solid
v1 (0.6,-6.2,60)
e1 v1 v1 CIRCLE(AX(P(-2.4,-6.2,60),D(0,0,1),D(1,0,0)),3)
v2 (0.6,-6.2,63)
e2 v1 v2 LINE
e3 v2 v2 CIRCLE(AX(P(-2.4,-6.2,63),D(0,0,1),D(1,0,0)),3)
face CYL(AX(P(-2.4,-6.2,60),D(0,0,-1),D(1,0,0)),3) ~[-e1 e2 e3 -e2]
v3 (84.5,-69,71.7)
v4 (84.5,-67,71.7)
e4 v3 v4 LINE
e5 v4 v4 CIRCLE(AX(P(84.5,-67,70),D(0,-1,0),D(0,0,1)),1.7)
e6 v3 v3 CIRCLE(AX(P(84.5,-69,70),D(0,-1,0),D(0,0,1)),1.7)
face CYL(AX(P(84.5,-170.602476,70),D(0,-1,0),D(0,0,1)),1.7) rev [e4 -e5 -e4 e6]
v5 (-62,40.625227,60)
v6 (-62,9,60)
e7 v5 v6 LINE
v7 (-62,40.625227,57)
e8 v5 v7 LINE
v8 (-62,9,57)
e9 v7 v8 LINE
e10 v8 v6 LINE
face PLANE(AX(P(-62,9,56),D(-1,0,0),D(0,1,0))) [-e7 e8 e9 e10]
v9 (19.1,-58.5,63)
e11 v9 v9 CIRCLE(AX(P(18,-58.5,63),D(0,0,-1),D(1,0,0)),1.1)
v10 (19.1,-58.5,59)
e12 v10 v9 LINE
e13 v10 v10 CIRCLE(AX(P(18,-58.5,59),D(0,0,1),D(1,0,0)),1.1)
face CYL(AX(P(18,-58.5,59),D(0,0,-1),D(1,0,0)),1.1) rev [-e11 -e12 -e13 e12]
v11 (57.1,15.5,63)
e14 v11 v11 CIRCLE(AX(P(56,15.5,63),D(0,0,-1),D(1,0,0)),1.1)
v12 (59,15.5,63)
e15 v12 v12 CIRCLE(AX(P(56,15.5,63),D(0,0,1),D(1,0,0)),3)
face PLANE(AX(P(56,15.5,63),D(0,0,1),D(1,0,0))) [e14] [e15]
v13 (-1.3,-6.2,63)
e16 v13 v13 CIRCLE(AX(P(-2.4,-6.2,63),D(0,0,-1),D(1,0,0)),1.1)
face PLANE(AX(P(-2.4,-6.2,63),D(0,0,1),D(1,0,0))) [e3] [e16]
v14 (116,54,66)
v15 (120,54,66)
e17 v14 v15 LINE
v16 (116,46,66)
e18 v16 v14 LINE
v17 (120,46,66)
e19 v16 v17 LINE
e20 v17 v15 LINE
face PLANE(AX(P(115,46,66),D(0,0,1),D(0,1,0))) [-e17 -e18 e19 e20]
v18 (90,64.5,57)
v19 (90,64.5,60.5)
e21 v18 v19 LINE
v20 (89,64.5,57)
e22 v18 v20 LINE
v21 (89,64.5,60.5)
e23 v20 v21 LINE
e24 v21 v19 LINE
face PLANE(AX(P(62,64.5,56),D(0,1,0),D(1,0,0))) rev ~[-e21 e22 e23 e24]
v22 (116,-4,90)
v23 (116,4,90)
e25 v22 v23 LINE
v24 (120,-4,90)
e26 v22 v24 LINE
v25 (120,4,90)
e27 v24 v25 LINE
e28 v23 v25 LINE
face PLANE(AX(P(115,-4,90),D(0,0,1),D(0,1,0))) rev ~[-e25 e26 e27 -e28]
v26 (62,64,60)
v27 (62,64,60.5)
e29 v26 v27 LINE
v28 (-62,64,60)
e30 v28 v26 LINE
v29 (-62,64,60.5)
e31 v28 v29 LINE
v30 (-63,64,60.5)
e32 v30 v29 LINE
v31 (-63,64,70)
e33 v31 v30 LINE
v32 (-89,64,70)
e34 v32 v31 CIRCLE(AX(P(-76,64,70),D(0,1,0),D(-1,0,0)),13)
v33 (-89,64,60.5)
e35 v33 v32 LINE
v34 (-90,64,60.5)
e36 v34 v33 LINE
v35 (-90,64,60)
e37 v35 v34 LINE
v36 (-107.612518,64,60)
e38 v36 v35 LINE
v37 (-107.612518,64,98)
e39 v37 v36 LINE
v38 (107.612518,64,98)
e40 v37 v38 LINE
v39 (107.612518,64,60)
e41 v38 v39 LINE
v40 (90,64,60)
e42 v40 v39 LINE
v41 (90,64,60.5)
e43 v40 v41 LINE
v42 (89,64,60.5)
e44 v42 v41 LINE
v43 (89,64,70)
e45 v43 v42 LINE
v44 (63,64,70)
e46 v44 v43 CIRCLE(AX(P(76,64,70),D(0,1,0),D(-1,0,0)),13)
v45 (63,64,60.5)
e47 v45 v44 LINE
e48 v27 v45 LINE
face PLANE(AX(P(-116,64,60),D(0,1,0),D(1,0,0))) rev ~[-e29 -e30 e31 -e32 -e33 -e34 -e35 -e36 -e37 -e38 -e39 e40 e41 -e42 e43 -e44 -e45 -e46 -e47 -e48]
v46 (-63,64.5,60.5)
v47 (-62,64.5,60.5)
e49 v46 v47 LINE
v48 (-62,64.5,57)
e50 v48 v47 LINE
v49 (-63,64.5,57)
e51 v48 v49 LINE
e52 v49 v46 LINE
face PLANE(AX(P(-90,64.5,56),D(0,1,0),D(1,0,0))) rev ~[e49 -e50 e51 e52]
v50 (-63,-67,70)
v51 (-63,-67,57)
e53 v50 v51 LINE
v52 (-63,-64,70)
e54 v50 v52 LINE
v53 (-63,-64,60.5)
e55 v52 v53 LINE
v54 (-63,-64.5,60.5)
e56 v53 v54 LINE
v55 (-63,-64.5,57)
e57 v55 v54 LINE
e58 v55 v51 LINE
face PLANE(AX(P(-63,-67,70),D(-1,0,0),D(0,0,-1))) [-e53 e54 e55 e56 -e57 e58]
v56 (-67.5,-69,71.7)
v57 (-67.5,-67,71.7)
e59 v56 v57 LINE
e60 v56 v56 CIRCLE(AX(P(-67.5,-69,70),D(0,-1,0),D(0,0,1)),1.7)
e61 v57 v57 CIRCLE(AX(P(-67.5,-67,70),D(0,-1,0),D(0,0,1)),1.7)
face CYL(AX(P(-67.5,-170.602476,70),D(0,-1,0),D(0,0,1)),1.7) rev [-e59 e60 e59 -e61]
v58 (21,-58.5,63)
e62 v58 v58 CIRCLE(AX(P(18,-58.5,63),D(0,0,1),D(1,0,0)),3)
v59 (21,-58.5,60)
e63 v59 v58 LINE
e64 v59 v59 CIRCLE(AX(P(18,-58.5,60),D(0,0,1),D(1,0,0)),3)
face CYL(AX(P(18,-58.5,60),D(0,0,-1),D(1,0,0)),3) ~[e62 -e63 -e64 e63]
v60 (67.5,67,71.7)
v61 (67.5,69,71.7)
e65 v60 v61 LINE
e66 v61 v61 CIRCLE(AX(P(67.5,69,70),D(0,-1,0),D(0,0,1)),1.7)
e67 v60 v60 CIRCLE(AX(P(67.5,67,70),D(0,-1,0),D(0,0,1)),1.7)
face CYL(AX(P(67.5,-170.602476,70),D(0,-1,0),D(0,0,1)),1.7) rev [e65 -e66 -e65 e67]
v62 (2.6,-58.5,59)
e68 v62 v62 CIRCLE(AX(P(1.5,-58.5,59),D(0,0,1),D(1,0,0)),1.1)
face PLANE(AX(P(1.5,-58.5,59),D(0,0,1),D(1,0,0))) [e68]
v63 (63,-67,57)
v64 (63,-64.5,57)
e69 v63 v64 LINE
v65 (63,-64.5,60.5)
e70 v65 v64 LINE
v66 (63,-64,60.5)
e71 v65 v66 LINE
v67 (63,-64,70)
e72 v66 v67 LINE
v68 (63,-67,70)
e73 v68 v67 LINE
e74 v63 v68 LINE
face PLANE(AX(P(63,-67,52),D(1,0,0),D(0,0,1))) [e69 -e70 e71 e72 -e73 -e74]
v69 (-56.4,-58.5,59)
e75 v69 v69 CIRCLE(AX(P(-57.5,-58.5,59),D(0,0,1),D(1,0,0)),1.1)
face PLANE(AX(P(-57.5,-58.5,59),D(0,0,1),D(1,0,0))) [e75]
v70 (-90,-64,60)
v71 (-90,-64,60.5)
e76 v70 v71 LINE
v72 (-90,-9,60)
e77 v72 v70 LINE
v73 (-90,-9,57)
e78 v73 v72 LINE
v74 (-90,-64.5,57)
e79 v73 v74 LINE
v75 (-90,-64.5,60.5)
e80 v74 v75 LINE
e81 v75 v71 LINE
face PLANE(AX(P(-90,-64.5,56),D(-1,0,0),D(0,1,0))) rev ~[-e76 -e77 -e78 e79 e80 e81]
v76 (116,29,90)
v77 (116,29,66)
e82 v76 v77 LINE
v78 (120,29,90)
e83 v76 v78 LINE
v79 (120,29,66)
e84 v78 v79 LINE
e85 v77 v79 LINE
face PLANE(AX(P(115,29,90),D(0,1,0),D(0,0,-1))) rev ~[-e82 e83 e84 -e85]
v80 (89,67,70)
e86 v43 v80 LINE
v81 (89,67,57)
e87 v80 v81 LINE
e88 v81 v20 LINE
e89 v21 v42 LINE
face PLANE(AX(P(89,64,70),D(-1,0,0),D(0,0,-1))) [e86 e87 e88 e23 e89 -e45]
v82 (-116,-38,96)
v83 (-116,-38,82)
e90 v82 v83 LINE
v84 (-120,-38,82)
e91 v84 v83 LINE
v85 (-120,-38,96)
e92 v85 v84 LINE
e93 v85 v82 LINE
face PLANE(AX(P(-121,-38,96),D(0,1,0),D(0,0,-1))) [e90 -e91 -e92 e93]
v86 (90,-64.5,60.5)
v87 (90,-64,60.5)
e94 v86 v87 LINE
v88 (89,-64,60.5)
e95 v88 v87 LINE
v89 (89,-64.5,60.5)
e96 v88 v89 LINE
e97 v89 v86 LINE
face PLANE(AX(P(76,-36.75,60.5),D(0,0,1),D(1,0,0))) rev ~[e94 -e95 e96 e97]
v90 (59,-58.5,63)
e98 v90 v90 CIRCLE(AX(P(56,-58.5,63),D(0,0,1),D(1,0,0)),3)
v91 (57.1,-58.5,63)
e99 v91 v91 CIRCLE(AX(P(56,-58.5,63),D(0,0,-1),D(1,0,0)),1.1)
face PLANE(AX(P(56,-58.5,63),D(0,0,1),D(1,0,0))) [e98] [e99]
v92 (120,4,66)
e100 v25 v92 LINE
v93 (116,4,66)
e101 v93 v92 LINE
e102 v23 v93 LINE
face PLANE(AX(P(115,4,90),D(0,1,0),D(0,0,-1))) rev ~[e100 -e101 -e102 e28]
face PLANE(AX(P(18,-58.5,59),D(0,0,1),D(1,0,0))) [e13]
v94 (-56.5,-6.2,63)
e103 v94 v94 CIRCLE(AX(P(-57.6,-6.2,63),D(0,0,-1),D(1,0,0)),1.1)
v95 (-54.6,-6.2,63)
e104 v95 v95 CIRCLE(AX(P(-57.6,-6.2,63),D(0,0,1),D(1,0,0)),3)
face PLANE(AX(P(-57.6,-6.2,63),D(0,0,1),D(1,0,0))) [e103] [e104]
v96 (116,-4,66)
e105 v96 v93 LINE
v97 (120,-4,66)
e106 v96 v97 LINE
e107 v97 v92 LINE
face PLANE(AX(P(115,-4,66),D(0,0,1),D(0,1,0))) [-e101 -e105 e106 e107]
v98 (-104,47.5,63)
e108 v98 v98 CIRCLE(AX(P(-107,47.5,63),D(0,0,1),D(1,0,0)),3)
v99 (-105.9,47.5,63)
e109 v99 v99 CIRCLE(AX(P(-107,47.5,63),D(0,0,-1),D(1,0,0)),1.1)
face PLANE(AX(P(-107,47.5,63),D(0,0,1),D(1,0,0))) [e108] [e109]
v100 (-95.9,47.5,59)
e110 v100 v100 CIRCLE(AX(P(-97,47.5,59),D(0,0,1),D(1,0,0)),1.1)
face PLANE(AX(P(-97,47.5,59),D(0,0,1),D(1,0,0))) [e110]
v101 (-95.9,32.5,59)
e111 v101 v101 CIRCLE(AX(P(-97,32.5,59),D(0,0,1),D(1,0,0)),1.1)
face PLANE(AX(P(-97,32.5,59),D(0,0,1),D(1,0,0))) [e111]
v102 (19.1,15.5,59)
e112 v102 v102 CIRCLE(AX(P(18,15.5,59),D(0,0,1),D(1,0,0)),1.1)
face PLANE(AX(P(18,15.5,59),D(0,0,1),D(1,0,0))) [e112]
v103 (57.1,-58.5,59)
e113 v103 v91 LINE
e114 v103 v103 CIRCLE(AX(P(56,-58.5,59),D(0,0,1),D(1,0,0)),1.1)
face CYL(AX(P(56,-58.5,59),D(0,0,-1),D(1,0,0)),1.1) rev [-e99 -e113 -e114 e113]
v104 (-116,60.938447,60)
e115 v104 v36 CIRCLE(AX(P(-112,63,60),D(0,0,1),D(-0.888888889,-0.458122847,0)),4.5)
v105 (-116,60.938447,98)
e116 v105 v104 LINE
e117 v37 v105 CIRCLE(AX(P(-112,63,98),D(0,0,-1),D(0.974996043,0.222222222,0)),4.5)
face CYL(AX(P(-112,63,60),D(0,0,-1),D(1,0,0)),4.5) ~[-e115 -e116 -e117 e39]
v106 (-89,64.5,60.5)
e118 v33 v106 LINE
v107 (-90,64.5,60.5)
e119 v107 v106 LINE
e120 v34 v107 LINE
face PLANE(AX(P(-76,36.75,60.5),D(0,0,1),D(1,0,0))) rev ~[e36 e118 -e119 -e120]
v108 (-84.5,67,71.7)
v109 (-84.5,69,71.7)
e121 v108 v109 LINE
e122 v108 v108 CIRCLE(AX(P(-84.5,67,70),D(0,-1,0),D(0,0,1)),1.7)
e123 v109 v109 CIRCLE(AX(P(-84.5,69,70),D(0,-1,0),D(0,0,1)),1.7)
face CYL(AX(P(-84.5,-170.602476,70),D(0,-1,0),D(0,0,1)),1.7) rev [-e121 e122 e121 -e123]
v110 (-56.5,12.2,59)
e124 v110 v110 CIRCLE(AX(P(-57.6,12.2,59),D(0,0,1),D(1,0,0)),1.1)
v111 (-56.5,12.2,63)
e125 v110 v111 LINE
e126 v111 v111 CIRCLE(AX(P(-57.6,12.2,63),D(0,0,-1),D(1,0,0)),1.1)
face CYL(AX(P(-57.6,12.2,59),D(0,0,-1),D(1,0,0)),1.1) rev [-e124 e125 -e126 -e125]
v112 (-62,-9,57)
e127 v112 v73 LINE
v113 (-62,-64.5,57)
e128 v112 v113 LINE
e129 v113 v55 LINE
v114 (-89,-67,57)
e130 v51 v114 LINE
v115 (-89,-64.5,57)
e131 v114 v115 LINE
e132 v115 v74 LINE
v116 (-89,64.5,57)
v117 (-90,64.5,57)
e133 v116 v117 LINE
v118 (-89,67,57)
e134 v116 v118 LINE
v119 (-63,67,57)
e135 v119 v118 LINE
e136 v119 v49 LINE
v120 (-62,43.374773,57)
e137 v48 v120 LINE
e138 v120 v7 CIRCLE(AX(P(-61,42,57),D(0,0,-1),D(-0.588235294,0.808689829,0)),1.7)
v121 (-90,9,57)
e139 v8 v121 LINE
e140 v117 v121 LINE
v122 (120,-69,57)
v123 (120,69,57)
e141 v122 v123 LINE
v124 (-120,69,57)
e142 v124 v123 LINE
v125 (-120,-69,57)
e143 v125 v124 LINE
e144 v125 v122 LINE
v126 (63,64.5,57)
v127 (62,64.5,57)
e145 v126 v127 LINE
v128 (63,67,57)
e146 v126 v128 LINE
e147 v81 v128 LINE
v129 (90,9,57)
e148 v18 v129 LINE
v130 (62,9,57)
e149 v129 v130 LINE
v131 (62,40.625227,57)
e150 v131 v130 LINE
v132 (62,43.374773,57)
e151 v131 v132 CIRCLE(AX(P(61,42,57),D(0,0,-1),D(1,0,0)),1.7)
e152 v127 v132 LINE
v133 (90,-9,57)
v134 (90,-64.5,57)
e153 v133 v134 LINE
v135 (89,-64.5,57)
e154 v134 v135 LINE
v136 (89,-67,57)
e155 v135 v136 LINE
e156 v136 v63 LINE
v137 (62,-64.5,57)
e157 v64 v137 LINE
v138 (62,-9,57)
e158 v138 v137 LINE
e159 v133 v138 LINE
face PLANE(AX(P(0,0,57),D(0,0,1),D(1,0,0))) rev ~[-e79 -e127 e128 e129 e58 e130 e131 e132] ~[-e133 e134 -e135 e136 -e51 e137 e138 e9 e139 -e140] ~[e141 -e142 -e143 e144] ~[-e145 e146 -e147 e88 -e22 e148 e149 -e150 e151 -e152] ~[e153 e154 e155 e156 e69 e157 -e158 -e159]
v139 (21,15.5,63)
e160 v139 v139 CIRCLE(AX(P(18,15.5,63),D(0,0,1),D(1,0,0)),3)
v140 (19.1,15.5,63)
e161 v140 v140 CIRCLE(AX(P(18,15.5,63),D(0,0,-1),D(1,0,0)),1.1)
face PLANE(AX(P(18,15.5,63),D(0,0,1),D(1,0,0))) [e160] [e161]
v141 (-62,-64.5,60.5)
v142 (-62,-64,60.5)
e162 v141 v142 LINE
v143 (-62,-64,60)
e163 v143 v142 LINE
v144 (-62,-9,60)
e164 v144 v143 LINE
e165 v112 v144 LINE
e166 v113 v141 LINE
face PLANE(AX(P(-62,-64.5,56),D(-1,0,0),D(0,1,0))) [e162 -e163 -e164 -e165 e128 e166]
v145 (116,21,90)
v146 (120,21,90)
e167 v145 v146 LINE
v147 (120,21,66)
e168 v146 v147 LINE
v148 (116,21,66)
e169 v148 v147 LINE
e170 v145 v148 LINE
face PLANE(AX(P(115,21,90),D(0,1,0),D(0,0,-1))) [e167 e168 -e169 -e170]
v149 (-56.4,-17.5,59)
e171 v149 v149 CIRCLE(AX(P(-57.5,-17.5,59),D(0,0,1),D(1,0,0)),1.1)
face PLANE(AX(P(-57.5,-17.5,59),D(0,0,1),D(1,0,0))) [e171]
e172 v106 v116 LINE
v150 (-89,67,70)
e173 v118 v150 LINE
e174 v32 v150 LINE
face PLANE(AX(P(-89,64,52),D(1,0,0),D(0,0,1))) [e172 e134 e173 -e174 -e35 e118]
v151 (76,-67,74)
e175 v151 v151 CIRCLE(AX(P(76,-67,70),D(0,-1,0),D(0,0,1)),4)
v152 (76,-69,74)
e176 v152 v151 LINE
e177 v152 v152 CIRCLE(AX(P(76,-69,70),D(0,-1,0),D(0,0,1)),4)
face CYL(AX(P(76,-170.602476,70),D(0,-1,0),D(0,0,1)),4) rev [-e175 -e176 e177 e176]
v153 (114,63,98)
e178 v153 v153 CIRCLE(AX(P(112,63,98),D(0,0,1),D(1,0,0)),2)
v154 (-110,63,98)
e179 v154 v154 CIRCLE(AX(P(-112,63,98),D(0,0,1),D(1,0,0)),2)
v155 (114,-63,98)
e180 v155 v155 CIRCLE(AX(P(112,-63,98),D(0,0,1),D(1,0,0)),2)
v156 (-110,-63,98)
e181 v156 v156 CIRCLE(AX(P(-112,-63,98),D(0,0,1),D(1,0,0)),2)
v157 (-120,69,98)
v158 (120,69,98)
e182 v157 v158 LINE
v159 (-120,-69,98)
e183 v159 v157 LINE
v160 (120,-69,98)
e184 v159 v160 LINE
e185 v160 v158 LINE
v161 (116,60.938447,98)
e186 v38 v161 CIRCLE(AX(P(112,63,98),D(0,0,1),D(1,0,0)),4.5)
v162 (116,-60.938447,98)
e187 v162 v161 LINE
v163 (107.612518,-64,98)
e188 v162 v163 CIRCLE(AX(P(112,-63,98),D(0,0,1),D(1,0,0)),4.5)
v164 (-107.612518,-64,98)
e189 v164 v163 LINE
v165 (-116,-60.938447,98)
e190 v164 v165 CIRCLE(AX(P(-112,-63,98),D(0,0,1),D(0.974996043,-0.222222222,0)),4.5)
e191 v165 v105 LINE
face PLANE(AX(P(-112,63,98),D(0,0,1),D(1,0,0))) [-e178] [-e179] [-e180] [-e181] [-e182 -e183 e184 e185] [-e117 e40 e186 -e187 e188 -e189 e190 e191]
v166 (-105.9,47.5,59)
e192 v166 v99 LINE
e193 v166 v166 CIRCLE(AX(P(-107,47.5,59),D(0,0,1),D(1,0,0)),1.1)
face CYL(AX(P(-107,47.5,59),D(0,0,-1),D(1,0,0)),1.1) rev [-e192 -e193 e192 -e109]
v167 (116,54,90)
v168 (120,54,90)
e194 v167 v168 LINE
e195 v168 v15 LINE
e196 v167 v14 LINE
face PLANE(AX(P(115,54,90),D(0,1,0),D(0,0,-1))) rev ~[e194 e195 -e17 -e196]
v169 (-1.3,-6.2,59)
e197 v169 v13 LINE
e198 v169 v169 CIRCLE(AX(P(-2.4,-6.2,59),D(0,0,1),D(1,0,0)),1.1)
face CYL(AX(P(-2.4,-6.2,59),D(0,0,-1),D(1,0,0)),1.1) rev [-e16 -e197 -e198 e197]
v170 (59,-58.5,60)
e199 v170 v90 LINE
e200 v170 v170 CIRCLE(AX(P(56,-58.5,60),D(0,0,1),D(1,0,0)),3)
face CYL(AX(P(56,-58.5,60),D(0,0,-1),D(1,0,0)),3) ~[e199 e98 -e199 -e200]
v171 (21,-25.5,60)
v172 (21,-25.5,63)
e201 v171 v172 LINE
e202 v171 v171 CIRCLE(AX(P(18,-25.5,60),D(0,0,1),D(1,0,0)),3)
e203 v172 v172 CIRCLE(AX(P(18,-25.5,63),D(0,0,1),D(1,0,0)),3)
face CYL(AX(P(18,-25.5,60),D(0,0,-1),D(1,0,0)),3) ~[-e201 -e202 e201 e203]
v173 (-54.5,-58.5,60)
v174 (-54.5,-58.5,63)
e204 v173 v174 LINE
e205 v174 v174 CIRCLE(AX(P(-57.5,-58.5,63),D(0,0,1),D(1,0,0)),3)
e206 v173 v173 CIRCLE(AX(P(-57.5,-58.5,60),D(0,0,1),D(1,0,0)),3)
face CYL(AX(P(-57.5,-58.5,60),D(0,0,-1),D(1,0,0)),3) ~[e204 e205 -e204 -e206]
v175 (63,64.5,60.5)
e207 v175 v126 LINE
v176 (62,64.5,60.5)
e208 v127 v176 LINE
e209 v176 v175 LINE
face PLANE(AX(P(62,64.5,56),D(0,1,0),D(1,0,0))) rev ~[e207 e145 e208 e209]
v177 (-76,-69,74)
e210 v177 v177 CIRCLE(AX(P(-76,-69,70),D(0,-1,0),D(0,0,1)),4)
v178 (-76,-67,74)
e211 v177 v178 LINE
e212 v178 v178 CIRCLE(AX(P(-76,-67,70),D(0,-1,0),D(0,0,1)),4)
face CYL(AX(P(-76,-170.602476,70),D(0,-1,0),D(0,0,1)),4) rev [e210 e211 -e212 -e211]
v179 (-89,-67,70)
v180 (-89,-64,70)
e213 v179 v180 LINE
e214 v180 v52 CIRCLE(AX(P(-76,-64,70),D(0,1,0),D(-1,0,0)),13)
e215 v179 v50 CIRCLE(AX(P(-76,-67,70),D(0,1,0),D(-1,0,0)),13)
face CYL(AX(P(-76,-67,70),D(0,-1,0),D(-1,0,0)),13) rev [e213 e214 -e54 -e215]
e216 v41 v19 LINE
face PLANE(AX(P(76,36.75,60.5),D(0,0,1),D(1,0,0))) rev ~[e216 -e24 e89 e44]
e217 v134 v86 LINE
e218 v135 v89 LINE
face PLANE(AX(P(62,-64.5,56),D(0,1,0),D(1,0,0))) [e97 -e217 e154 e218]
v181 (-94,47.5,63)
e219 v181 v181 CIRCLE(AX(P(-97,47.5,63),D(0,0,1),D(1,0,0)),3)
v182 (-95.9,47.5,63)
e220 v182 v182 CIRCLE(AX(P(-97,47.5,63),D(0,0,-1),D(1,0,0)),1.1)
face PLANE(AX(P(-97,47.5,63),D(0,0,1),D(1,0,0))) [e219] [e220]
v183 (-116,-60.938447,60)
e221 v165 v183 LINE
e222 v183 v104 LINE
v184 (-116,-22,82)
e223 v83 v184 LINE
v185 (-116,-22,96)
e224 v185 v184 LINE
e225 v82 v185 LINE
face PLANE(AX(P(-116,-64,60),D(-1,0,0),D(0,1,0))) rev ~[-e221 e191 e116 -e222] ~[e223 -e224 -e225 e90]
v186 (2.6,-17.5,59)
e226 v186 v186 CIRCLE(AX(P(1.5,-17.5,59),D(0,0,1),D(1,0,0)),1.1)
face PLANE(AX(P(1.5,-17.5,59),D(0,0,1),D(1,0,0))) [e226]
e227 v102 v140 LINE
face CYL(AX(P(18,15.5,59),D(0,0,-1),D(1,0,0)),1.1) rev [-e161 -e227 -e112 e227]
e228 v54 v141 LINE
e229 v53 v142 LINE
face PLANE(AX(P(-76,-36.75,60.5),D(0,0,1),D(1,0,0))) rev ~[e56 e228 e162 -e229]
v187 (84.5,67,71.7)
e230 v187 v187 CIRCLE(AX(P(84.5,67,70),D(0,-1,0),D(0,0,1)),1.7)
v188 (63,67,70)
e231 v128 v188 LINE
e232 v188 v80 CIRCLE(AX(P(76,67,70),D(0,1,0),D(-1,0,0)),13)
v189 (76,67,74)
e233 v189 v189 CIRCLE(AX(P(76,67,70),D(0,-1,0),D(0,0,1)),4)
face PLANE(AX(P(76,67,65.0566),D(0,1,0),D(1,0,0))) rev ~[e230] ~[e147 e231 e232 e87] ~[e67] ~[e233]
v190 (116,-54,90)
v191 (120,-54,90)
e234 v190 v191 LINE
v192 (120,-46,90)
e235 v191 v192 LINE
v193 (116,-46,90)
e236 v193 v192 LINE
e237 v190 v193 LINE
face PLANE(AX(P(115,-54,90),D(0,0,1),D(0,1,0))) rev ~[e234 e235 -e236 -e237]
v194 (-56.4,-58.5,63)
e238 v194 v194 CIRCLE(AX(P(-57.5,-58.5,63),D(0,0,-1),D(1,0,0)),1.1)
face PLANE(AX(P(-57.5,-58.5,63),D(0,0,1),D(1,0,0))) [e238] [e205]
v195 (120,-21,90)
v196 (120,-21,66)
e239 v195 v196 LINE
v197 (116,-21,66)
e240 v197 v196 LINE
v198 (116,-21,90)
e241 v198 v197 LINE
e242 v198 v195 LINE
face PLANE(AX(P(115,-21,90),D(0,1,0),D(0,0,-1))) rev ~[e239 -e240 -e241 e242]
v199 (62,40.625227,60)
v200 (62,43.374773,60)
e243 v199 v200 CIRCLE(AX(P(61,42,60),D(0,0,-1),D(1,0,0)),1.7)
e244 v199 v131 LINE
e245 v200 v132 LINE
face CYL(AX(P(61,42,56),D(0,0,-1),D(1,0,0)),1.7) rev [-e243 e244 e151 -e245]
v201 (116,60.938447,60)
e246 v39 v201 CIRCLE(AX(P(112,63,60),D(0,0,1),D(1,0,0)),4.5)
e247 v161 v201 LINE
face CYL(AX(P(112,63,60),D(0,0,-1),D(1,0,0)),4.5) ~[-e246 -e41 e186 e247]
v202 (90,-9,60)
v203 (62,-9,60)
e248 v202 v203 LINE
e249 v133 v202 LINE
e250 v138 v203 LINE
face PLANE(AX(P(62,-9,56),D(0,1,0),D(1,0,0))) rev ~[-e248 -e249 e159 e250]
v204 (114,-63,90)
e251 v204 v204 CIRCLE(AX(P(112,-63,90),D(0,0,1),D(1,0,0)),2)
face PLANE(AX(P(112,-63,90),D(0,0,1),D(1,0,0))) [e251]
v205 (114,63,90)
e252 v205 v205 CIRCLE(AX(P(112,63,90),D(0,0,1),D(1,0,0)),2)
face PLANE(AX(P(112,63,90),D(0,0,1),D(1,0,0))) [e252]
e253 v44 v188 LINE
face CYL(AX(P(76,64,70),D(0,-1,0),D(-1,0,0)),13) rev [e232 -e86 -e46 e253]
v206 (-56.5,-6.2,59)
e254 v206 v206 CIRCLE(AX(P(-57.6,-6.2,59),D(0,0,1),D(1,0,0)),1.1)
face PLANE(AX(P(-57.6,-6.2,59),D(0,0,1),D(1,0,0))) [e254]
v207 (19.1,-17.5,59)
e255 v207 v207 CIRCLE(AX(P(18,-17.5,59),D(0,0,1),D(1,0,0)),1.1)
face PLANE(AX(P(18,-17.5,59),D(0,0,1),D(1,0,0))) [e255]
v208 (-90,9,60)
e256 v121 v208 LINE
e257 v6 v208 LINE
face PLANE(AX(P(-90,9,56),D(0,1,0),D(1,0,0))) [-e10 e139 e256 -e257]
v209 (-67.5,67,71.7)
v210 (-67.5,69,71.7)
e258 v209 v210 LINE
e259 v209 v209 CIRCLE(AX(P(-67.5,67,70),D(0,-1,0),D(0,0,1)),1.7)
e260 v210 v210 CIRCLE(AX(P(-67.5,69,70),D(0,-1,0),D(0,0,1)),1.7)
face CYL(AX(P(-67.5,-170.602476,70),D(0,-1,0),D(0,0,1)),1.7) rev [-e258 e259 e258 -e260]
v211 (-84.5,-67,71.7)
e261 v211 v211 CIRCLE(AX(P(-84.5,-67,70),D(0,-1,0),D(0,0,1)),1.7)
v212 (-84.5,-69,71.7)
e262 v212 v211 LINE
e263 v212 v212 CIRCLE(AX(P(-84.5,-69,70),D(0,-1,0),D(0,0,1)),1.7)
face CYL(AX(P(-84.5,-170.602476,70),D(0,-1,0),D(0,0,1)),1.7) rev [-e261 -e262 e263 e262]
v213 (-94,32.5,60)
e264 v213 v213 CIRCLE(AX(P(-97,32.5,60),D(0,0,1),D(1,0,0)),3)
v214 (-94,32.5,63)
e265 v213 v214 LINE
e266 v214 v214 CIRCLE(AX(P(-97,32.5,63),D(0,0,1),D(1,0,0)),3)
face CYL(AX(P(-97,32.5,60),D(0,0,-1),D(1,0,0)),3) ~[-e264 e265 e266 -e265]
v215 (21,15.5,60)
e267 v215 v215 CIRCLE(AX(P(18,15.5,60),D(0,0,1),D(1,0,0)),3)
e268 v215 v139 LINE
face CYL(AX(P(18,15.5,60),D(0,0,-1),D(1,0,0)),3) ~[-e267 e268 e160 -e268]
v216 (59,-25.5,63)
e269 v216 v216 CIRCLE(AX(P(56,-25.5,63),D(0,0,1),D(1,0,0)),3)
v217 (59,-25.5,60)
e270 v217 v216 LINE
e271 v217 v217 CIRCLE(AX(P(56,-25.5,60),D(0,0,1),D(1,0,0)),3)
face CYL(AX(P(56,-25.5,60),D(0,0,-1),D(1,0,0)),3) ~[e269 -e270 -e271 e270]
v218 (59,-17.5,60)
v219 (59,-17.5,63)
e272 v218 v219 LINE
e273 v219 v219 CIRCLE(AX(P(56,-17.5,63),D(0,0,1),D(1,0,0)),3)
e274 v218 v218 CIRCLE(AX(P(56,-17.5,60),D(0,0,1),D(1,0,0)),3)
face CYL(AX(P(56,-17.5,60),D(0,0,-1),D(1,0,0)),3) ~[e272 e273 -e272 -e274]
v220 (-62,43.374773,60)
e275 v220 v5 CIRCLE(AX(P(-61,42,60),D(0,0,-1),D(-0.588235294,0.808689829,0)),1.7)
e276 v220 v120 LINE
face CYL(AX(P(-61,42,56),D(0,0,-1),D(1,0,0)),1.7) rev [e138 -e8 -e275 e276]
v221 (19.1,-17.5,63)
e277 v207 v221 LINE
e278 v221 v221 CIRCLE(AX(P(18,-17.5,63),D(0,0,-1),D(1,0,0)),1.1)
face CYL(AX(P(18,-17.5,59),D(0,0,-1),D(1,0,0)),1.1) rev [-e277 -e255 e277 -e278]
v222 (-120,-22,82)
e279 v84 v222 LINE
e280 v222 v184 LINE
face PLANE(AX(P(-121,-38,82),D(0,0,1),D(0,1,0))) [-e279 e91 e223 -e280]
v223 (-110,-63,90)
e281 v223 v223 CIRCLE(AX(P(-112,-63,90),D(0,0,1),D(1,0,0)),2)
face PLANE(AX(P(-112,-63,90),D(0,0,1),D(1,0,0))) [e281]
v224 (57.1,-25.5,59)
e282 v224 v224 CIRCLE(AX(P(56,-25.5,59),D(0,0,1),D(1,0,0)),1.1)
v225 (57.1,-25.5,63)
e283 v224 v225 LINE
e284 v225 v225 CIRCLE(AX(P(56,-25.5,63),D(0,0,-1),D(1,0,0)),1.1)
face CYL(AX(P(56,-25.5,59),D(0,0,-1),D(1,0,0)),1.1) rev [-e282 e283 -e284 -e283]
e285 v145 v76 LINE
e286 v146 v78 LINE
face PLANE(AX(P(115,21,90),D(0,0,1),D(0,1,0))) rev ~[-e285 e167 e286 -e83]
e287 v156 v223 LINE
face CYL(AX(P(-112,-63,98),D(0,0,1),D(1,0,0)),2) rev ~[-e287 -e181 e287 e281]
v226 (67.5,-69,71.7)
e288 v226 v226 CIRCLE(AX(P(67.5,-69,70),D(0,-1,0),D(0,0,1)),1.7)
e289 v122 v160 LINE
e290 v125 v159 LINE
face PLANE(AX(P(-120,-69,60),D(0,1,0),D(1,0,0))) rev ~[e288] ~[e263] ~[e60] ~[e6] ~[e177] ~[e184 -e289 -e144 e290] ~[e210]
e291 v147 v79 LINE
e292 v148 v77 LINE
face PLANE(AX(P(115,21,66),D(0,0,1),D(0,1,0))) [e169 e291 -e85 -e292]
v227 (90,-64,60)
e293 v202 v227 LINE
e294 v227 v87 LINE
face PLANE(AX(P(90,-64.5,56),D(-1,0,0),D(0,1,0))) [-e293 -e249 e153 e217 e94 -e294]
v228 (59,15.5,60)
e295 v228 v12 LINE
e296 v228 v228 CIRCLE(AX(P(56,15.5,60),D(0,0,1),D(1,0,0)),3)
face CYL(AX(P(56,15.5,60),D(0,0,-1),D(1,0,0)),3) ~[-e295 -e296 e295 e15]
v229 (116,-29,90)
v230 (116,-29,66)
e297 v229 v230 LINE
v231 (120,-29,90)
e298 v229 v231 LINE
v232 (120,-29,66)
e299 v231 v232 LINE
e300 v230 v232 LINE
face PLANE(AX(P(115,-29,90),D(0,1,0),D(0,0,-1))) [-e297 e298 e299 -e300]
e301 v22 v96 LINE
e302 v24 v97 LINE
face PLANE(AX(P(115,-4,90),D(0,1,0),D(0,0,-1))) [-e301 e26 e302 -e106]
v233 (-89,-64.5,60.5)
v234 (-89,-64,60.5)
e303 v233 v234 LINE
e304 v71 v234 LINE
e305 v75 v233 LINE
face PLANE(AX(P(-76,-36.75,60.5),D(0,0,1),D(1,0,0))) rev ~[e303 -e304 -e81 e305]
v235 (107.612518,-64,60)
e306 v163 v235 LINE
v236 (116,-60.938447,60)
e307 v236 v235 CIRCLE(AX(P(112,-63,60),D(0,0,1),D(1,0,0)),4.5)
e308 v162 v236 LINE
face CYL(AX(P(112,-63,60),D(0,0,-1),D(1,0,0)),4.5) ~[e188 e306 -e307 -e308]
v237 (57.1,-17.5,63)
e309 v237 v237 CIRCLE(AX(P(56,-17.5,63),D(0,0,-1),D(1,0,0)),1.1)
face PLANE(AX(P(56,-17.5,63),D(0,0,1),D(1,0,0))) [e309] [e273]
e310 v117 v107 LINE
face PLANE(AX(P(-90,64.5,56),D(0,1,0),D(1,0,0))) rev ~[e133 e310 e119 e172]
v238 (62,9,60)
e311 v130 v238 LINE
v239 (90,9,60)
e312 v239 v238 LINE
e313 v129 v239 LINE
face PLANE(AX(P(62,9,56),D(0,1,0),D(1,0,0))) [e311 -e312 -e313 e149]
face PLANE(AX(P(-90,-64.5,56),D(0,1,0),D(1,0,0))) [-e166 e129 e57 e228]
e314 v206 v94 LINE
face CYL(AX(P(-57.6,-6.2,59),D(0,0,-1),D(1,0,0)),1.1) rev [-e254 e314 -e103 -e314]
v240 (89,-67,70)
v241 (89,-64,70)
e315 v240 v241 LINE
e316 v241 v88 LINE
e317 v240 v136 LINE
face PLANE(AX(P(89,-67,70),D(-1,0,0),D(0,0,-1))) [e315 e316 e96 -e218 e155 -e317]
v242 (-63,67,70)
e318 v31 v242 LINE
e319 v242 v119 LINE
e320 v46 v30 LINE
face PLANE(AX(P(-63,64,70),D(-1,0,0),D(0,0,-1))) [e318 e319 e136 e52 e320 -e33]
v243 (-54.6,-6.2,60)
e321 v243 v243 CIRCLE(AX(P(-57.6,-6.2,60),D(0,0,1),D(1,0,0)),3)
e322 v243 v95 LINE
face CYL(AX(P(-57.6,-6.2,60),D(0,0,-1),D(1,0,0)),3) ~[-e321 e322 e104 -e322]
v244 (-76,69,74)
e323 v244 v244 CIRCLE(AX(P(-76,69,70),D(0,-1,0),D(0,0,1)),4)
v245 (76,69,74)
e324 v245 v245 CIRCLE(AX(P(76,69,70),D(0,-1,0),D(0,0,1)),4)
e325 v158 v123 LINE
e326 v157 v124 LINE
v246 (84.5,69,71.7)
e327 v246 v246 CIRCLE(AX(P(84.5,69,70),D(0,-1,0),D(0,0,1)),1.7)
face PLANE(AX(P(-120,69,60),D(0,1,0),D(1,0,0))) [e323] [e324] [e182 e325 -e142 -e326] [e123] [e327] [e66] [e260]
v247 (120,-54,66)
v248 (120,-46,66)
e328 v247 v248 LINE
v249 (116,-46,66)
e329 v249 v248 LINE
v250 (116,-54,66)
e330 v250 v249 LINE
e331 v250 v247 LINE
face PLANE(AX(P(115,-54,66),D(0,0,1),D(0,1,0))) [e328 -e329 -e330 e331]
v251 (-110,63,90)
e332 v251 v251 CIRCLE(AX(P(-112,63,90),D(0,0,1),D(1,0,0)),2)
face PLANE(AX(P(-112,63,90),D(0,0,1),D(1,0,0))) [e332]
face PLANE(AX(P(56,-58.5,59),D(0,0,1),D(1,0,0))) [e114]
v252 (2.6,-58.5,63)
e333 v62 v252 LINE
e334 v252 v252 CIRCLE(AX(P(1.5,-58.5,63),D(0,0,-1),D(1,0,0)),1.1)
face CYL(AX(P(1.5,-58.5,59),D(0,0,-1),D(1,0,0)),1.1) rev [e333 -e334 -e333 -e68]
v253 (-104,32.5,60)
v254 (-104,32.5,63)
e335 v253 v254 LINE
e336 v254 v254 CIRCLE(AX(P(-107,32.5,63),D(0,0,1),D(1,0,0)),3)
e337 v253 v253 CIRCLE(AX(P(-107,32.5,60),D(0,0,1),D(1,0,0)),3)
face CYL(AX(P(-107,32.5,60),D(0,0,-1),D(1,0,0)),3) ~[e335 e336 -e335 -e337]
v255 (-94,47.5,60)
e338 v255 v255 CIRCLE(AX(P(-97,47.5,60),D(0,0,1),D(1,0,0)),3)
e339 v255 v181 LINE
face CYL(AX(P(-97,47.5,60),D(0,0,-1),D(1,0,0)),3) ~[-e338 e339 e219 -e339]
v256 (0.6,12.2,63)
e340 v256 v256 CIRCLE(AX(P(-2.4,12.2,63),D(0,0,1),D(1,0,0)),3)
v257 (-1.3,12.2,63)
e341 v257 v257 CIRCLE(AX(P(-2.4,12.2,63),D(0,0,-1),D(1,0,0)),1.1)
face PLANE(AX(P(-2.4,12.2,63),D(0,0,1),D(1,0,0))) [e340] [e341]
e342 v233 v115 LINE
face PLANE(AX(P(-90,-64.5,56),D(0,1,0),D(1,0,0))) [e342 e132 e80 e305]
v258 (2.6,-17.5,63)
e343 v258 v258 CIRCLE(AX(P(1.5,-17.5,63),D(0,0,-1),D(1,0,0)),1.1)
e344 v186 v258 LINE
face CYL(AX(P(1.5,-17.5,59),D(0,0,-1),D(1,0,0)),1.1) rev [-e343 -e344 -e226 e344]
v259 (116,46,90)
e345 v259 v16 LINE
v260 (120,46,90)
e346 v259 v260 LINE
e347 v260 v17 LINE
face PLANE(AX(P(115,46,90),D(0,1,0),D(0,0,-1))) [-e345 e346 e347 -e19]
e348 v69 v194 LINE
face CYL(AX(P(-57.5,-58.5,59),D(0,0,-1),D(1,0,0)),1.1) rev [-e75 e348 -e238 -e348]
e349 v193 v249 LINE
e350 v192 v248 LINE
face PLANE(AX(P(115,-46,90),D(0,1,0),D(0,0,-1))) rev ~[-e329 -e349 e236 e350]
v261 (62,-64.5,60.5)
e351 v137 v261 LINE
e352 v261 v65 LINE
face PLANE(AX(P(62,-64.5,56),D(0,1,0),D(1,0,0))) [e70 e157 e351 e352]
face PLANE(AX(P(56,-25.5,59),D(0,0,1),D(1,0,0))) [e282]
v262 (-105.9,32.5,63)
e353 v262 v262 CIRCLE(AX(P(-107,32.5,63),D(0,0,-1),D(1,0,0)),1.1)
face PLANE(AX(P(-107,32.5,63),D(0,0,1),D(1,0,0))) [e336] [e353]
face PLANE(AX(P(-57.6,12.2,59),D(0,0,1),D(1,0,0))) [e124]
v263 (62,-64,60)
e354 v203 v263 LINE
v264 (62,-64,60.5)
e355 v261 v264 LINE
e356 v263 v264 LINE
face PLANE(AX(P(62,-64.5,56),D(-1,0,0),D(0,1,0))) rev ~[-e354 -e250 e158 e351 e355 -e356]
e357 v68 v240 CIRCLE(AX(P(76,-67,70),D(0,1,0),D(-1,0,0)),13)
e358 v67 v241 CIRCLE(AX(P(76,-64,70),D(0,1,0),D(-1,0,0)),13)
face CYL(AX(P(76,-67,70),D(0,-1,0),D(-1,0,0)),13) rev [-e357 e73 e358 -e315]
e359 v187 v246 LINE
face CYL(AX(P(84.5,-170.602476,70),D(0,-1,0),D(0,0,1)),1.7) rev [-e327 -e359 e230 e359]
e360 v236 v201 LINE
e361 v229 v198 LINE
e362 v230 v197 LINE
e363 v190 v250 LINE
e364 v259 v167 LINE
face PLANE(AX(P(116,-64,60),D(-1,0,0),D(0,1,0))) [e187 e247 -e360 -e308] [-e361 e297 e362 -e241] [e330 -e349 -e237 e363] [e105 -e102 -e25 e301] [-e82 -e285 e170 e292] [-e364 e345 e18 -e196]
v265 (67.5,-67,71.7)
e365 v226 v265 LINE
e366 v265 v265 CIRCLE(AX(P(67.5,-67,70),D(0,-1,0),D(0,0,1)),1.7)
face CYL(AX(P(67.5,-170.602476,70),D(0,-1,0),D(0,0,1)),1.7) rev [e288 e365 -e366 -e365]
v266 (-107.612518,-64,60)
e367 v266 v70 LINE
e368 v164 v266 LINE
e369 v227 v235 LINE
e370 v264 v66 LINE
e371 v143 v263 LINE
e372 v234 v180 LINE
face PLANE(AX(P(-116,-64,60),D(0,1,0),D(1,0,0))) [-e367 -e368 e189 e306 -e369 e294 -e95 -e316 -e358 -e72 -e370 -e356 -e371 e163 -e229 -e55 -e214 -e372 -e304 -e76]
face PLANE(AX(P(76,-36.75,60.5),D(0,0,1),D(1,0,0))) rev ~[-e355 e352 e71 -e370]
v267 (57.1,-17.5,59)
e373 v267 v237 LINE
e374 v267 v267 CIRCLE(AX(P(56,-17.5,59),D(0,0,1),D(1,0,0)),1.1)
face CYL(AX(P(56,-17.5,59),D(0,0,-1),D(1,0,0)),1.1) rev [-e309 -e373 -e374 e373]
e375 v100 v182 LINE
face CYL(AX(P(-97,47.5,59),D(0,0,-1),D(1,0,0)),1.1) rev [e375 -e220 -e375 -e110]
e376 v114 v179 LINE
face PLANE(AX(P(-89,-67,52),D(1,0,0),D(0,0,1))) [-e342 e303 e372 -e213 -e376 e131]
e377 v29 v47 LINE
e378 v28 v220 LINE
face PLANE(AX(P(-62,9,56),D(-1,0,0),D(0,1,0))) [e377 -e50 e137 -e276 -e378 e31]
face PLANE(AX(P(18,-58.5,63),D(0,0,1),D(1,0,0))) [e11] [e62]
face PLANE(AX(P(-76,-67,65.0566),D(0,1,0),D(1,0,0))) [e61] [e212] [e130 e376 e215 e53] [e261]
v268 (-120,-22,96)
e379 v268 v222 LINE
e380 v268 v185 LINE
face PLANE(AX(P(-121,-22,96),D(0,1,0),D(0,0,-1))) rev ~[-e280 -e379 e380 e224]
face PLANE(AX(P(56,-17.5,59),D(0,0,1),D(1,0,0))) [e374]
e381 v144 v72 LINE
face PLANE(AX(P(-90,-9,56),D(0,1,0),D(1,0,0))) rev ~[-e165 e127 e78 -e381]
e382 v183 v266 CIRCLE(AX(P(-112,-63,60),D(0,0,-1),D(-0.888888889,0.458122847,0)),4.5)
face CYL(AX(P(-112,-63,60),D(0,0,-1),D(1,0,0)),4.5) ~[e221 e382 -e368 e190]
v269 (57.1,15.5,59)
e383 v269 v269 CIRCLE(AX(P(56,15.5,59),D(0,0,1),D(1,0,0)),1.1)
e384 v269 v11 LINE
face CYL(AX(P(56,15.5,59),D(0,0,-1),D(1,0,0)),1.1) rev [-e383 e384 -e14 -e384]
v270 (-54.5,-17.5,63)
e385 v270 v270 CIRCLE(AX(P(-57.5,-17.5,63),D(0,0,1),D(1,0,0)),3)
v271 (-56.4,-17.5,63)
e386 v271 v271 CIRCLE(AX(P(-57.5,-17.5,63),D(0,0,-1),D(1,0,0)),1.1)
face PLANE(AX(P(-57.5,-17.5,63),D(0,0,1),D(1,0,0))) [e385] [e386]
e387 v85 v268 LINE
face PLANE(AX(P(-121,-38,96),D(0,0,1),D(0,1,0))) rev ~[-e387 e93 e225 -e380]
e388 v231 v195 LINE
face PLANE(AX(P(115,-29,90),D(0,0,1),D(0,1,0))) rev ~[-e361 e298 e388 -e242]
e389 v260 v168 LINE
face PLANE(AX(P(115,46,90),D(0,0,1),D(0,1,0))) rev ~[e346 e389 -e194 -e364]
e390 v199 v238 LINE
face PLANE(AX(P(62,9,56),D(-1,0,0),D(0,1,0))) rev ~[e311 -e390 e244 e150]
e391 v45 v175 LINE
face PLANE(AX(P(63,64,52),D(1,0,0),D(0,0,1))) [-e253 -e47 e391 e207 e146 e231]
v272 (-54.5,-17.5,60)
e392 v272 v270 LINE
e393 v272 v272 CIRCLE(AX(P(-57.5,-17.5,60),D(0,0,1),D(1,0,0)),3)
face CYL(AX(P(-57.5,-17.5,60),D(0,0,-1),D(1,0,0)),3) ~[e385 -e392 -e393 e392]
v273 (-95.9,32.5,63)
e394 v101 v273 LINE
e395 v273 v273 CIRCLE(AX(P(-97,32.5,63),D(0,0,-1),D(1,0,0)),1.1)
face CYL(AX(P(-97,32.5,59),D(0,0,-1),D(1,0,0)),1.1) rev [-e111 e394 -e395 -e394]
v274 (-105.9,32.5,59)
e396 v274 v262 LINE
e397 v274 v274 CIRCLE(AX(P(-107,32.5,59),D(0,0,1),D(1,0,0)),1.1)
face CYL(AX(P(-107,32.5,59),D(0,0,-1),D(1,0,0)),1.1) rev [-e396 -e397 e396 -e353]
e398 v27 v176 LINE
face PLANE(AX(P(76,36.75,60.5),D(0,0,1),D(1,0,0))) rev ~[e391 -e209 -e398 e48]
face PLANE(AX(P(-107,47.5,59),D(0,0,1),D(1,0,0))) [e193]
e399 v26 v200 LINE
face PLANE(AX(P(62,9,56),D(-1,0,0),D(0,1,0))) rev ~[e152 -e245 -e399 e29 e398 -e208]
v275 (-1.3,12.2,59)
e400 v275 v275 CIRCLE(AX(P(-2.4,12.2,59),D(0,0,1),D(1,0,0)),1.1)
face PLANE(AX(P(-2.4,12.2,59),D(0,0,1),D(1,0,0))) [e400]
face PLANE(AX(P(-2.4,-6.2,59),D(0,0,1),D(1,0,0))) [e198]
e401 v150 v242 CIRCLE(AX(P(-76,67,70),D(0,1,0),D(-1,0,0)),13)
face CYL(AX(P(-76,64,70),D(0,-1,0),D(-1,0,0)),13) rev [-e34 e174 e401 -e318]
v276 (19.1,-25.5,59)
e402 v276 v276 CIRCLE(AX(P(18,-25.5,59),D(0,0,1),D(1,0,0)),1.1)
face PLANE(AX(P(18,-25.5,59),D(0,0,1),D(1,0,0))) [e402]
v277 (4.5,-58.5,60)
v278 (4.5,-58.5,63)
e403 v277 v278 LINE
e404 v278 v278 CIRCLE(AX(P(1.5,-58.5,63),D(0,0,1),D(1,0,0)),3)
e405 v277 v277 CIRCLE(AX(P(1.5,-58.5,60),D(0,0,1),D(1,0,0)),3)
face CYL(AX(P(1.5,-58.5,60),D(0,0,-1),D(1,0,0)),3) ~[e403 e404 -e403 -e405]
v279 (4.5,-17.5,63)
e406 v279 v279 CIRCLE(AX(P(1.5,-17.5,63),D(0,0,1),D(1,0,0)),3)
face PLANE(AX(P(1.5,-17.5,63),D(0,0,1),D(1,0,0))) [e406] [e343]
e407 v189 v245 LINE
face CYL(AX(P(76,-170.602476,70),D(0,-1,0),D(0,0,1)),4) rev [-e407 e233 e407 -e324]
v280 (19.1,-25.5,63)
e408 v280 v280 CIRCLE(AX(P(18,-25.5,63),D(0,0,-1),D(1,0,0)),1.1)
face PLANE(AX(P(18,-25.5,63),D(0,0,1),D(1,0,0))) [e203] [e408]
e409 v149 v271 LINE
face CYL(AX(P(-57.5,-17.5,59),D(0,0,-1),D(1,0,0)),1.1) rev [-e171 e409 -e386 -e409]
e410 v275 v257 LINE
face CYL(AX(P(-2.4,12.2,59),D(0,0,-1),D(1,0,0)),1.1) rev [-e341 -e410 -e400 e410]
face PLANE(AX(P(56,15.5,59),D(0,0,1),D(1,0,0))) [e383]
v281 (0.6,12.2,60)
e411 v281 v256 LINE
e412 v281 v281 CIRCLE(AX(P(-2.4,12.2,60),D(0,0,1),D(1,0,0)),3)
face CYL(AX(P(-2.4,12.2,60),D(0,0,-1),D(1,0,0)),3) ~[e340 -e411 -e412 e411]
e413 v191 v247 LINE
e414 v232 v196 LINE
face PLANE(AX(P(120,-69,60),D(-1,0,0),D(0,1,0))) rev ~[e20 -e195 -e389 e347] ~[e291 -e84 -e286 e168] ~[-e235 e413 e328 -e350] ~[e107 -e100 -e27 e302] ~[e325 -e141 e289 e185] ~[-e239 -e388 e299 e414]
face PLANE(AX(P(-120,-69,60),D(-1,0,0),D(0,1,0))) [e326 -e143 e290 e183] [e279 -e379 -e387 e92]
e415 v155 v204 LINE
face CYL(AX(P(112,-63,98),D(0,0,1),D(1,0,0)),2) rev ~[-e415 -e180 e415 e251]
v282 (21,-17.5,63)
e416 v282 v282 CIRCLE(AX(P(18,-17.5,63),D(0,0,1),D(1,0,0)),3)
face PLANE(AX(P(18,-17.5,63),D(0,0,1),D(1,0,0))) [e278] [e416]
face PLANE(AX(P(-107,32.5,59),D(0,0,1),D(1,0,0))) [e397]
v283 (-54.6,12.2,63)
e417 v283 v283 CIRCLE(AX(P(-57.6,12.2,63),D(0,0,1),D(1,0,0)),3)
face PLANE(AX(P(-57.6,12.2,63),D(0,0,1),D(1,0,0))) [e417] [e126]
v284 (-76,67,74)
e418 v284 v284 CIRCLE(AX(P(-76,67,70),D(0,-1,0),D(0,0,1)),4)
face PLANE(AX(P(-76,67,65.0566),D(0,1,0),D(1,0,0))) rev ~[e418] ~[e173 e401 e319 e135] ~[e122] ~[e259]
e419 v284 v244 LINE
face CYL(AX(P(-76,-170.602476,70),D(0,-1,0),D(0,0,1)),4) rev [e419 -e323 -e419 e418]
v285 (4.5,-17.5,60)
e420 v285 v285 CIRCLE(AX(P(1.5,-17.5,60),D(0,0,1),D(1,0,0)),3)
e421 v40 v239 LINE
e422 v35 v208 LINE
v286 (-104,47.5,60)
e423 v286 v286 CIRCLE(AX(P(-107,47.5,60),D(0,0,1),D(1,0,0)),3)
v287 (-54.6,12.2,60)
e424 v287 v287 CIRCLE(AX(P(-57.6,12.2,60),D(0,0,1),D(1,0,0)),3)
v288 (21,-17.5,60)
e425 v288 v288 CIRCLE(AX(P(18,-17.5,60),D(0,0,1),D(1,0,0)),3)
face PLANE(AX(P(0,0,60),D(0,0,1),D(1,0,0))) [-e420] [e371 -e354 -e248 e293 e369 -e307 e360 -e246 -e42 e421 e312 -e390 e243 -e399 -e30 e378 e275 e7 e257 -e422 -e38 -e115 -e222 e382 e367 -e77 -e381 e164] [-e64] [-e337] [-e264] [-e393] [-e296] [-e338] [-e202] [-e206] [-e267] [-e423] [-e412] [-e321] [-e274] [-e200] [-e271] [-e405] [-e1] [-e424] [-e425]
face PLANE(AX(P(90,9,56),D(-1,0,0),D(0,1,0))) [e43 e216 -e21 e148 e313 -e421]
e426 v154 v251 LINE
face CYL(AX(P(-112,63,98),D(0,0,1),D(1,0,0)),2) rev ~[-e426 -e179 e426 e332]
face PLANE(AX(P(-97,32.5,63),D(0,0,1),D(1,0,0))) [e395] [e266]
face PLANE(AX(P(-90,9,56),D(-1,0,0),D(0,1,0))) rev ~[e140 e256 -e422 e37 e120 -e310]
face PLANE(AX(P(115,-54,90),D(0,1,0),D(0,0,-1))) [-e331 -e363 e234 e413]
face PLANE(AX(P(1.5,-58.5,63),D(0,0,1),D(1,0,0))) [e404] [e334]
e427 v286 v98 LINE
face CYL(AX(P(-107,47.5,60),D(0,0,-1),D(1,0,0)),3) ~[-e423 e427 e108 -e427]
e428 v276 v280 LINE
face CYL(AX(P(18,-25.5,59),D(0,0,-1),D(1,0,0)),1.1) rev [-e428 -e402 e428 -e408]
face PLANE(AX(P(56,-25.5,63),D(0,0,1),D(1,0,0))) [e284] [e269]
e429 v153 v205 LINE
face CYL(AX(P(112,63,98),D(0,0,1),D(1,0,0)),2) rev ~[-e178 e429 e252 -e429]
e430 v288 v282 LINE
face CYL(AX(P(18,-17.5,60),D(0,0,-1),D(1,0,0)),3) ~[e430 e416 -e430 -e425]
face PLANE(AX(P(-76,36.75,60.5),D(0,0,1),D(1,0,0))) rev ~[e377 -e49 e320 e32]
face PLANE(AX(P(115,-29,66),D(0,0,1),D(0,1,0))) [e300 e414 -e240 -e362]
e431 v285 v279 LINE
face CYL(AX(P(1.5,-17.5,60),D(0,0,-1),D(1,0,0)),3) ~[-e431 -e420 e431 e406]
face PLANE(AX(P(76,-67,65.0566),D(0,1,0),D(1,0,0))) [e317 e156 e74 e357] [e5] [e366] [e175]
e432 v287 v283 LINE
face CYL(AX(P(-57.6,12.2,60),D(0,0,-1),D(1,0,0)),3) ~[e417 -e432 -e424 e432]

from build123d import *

# Parameters (mm, degrees)
SKETCH1_W                           = 240
SKETCH1_H                           = 138
FLOOR_2_DEPTH                       = 3
SKETCH2_W                           = 240
SKETCH2_H                           = 138
SKETCH2_W_2                         = 232
SKETCH2_H_2                         = 128
WALLS_DEPTH                         = 38
SKETCH3_R                           = 4.5
INSERT_COLUMNS_DEPTH                = 38
SKETCH4_R                           = 3
BOARD_STANDOFFS_DEPTH               = 3
SKETCH5_R                           = 1.1
STANDOFF_PILOTS_DEPTH               = 5
SKETCH6_W                           = 28
SKETCH6_H                           = 55.5
MOTOR_FLOOR_WINDOWS_DEPTH           = 4.5
MOTOR_POCKET_L_DEPTH                = 3
MOTOR_POCKET_R_DEPTH                = 3
MOTOR_SHAFT_AND_M3_HOLES_DEPTH      = 170.602476397
MOTOR_SHAFT_AND_M3_HOLES_DEPTH_BACK = 170.602476397
SKETCH9_R                           = 4
SKETCH9_R_2                         = 1.7
SKETCH10_R                          = 2
M3_INSERT_BORES_DEPTH               = 8
SKETCH11_R                          = 1.7
CRADLE_M3_HOLES_DEPTH               = 5
SKETCH12_W                          = 14
SKETCH12_H                          = 16
USB_GROMMET_DEPTH                   = 6
SKETCH13_W                          = 24
SKETCH13_H                          = 8
VENT_SLOTS_DEPTH                    = 6


with BuildPart() as part:
    # Sketch1 → Floor 2 (new body)
    with BuildSketch(Plane.XY.offset(57)):
        Rectangle(SKETCH1_W, SKETCH1_H)
    extrude(amount=FLOOR_2_DEPTH)

    # Sketch2 → Walls (add)
    with BuildSketch(Plane.XY.offset(60)):
        Rectangle(SKETCH2_W, SKETCH2_H)
        Rectangle(SKETCH2_W_2, SKETCH2_H_2, mode=Mode.SUBTRACT)
    extrude(amount=WALLS_DEPTH)

    # Sketch3 → Insert_columns (add)
    with BuildSketch(Plane.XY.offset(60)):
        with Locations((-112, 63)):
            Circle(SKETCH3_R)
        with Locations((-112, -63)):
            Circle(SKETCH3_R)
        with Locations((112, 63)):
            Circle(SKETCH3_R)
        with Locations((112, -63)):
            Circle(SKETCH3_R)
    extrude(amount=INSERT_COLUMNS_DEPTH)

    # Sketch4 → Board_standoffs (add)
    with BuildSketch(Plane.XY.offset(60)):
        with Locations((1.5, -17.5)):
            Circle(SKETCH4_R)
        with Locations((1.5, -58.5)):
            Circle(SKETCH4_R)
        with Locations((-57.5, -17.5)):
            Circle(SKETCH4_R)
        with Locations((-57.5, -58.5)):
            Circle(SKETCH4_R)
        with Locations((56, -25.5)):
            Circle(SKETCH4_R)
        with Locations((56, -58.5)):
            Circle(SKETCH4_R)
        with Locations((18, -25.5)):
            Circle(SKETCH4_R)
        with Locations((18, -58.5)):
            Circle(SKETCH4_R)
        with Locations((56, 15.5)):
            Circle(SKETCH4_R)
        with Locations((56, -17.5)):
            Circle(SKETCH4_R)
        with Locations((18, 15.5)):
            Circle(SKETCH4_R)
        with Locations((18, -17.5)):
            Circle(SKETCH4_R)
        with Locations((-2.4, 12.2)):
            Circle(SKETCH4_R)
        with Locations((-2.4, -6.2)):
            Circle(SKETCH4_R)
        with Locations((-57.6, 12.2)):
            Circle(SKETCH4_R)
        with Locations((-57.6, -6.2)):
            Circle(SKETCH4_R)
        with Locations((-107, 47.5)):
            Circle(SKETCH4_R)
        with Locations((-97, 47.5)):
            Circle(SKETCH4_R)
        with Locations((-107, 32.5)):
            Circle(SKETCH4_R)
        with Locations((-97, 32.5)):
            Circle(SKETCH4_R)
    extrude(amount=BOARD_STANDOFFS_DEPTH)

    # Sketch5 → Standoff_pilots (cut)
    with BuildSketch(Plane.XY.offset(59)):
        with Locations((1.5, -17.5)):
            Circle(SKETCH5_R)
        with Locations((1.5, -58.5)):
            Circle(SKETCH5_R)
        with Locations((-57.5, -17.5)):
            Circle(SKETCH5_R)
        with Locations((-57.5, -58.5)):
            Circle(SKETCH5_R)
        with Locations((56, -25.5)):
            Circle(SKETCH5_R)
        with Locations((56, -58.5)):
            Circle(SKETCH5_R)
        with Locations((18, -25.5)):
            Circle(SKETCH5_R)
        with Locations((18, -58.5)):
            Circle(SKETCH5_R)
        with Locations((56, 15.5)):
            Circle(SKETCH5_R)
        with Locations((56, -17.5)):
            Circle(SKETCH5_R)
        with Locations((18, 15.5)):
            Circle(SKETCH5_R)
        with Locations((18, -17.5)):
            Circle(SKETCH5_R)
        with Locations((-2.4, 12.2)):
            Circle(SKETCH5_R)
        with Locations((-2.4, -6.2)):
            Circle(SKETCH5_R)
        with Locations((-57.6, 12.2)):
            Circle(SKETCH5_R)
        with Locations((-57.6, -6.2)):
            Circle(SKETCH5_R)
        with Locations((-107, 47.5)):
            Circle(SKETCH5_R)
        with Locations((-97, 47.5)):
            Circle(SKETCH5_R)
        with Locations((-107, 32.5)):
            Circle(SKETCH5_R)
        with Locations((-97, 32.5)):
            Circle(SKETCH5_R)
    extrude(amount=STANDOFF_PILOTS_DEPTH, mode=Mode.SUBTRACT)

    # Sketch6 → Motor_floor_windows (cut)
    with BuildSketch(Plane.XY.offset(56)):
        with Locations((76, 36.75)):
            Rectangle(SKETCH6_W, SKETCH6_H)
        with Locations((76, -36.75)):
            Rectangle(SKETCH6_W, SKETCH6_H)
        with Locations((-76, 36.75)):
            Rectangle(SKETCH6_W, SKETCH6_H)
        with Locations((-76, -36.75)):
            Rectangle(SKETCH6_W, SKETCH6_H)
    extrude(amount=MOTOR_FLOOR_WINDOWS_DEPTH, mode=Mode.SUBTRACT)

    # Sketch7 → Motor_pocket_L (cut)
    with BuildSketch(Plane(origin=(0, 64, 0), x_dir=(1, 0, 0), z_dir=(0, 1, 0))):
        with BuildLine():
            Line((89, -70), (89, -52))
            Line((89, -52), (63, -52))
            Line((63, -52), (63, -70))
            ThreePointArc((63, -70), (76, -83), (89, -70))
        make_face()
        with BuildLine():
            Line((-63, -70), (-63, -52))
            Line((-63, -52), (-89, -52))
            Line((-89, -52), (-89, -70))
            ThreePointArc((-89, -70), (-76, -83), (-63, -70))
        make_face()
    extrude(amount=MOTOR_POCKET_L_DEPTH, mode=Mode.SUBTRACT)

    # Sketch8 → Motor_pocket_R (cut)
    with BuildSketch(Plane(origin=(0, -67, 0), x_dir=(1, 0, 0), z_dir=(0, 1, 0))):
        with BuildLine():
            Line((89, -70), (89, -52))
            Line((89, -52), (63, -52))
            Line((63, -52), (63, -70))
            ThreePointArc((63, -70), (76, -83), (89, -70))
        make_face()
        with BuildLine():
            Line((-63, -70), (-63, -52))
            Line((-63, -52), (-89, -52))
            Line((-89, -52), (-89, -70))
            ThreePointArc((-89, -70), (-76, -83), (-63, -70))
        make_face()
    extrude(amount=MOTOR_POCKET_R_DEPTH, mode=Mode.SUBTRACT)

    # Sketch9 → Motor_shaft_and_M3_holes (cut, two sides: drawn at the far end of the back side and taken through both)
    with BuildSketch(Plane(origin=(0, 0, 0), x_dir=(1, 0, 0), z_dir=(0, 1, 0)).offset(-MOTOR_SHAFT_AND_M3_HOLES_DEPTH_BACK)):
        with Locations(Location((76, -70, 0), (0, 0, 270))):
            Circle(SKETCH9_R)
        with Locations(Location((67.5, -70, 0), (0, 0, 270))):
            Circle(SKETCH9_R_2)
        with Locations(Location((84.5, -70, 0), (0, 0, 270))):
            Circle(SKETCH9_R_2)
        with Locations(Location((-76, -70, 0), (0, 0, 270))):
            Circle(SKETCH9_R)
        with Locations(Location((-84.5, -70, 0), (0, 0, 270))):
            Circle(SKETCH9_R_2)
        with Locations(Location((-67.5, -70, 0), (0, 0, 270))):
            Circle(SKETCH9_R_2)
    extrude(amount=MOTOR_SHAFT_AND_M3_HOLES_DEPTH + MOTOR_SHAFT_AND_M3_HOLES_DEPTH_BACK, mode=Mode.SUBTRACT)

    # Sketch10 → M3_insert_bores (cut)
    with BuildSketch(Plane.XY.offset(98)):
        with Locations((-112, 63)):
            Circle(SKETCH10_R)
        with Locations((-112, -63)):
            Circle(SKETCH10_R)
        with Locations((112, 63)):
            Circle(SKETCH10_R)
        with Locations((112, -63)):
            Circle(SKETCH10_R)
    extrude(amount=-M3_INSERT_BORES_DEPTH, mode=Mode.SUBTRACT)

    # Sketch11 → Cradle_M3_holes (cut)
    with BuildSketch(Plane.XY.offset(56)):
        with Locations((61, 42)):
            Circle(SKETCH11_R)
        with Locations((-61, 42)):
            Circle(SKETCH11_R)
    extrude(amount=CRADLE_M3_HOLES_DEPTH, mode=Mode.SUBTRACT)

    # Sketch12 → USB_grommet (cut)
    with BuildSketch(Plane(origin=(-121, 0, 0), x_dir=(0, 0, -1), z_dir=(1, 0, 0))):
        with Locations((-89, -30)):
            Rectangle(SKETCH12_W, SKETCH12_H)
    extrude(amount=USB_GROMMET_DEPTH, mode=Mode.SUBTRACT)

    # Sketch13 → Vent_slots (cut)
    with BuildSketch(Plane(origin=(115, 0, 0), x_dir=(0, 0, -1), z_dir=(1, 0, 0))):
        with Locations((-78, -50)):
            Rectangle(SKETCH13_W, SKETCH13_H)
        with Locations((-78, -25)):
            Rectangle(SKETCH13_W, SKETCH13_H)
        with Locations((-78, 0)):
            Rectangle(SKETCH13_W, SKETCH13_H)
        with Locations((-78, 25)):
            Rectangle(SKETCH13_W, SKETCH13_H)
        with Locations((-78, 50)):
            Rectangle(SKETCH13_W, SKETCH13_H)
    extrude(amount=VENT_SLOTS_DEPTH, mode=Mode.SUBTRACT)


solid = part.part
